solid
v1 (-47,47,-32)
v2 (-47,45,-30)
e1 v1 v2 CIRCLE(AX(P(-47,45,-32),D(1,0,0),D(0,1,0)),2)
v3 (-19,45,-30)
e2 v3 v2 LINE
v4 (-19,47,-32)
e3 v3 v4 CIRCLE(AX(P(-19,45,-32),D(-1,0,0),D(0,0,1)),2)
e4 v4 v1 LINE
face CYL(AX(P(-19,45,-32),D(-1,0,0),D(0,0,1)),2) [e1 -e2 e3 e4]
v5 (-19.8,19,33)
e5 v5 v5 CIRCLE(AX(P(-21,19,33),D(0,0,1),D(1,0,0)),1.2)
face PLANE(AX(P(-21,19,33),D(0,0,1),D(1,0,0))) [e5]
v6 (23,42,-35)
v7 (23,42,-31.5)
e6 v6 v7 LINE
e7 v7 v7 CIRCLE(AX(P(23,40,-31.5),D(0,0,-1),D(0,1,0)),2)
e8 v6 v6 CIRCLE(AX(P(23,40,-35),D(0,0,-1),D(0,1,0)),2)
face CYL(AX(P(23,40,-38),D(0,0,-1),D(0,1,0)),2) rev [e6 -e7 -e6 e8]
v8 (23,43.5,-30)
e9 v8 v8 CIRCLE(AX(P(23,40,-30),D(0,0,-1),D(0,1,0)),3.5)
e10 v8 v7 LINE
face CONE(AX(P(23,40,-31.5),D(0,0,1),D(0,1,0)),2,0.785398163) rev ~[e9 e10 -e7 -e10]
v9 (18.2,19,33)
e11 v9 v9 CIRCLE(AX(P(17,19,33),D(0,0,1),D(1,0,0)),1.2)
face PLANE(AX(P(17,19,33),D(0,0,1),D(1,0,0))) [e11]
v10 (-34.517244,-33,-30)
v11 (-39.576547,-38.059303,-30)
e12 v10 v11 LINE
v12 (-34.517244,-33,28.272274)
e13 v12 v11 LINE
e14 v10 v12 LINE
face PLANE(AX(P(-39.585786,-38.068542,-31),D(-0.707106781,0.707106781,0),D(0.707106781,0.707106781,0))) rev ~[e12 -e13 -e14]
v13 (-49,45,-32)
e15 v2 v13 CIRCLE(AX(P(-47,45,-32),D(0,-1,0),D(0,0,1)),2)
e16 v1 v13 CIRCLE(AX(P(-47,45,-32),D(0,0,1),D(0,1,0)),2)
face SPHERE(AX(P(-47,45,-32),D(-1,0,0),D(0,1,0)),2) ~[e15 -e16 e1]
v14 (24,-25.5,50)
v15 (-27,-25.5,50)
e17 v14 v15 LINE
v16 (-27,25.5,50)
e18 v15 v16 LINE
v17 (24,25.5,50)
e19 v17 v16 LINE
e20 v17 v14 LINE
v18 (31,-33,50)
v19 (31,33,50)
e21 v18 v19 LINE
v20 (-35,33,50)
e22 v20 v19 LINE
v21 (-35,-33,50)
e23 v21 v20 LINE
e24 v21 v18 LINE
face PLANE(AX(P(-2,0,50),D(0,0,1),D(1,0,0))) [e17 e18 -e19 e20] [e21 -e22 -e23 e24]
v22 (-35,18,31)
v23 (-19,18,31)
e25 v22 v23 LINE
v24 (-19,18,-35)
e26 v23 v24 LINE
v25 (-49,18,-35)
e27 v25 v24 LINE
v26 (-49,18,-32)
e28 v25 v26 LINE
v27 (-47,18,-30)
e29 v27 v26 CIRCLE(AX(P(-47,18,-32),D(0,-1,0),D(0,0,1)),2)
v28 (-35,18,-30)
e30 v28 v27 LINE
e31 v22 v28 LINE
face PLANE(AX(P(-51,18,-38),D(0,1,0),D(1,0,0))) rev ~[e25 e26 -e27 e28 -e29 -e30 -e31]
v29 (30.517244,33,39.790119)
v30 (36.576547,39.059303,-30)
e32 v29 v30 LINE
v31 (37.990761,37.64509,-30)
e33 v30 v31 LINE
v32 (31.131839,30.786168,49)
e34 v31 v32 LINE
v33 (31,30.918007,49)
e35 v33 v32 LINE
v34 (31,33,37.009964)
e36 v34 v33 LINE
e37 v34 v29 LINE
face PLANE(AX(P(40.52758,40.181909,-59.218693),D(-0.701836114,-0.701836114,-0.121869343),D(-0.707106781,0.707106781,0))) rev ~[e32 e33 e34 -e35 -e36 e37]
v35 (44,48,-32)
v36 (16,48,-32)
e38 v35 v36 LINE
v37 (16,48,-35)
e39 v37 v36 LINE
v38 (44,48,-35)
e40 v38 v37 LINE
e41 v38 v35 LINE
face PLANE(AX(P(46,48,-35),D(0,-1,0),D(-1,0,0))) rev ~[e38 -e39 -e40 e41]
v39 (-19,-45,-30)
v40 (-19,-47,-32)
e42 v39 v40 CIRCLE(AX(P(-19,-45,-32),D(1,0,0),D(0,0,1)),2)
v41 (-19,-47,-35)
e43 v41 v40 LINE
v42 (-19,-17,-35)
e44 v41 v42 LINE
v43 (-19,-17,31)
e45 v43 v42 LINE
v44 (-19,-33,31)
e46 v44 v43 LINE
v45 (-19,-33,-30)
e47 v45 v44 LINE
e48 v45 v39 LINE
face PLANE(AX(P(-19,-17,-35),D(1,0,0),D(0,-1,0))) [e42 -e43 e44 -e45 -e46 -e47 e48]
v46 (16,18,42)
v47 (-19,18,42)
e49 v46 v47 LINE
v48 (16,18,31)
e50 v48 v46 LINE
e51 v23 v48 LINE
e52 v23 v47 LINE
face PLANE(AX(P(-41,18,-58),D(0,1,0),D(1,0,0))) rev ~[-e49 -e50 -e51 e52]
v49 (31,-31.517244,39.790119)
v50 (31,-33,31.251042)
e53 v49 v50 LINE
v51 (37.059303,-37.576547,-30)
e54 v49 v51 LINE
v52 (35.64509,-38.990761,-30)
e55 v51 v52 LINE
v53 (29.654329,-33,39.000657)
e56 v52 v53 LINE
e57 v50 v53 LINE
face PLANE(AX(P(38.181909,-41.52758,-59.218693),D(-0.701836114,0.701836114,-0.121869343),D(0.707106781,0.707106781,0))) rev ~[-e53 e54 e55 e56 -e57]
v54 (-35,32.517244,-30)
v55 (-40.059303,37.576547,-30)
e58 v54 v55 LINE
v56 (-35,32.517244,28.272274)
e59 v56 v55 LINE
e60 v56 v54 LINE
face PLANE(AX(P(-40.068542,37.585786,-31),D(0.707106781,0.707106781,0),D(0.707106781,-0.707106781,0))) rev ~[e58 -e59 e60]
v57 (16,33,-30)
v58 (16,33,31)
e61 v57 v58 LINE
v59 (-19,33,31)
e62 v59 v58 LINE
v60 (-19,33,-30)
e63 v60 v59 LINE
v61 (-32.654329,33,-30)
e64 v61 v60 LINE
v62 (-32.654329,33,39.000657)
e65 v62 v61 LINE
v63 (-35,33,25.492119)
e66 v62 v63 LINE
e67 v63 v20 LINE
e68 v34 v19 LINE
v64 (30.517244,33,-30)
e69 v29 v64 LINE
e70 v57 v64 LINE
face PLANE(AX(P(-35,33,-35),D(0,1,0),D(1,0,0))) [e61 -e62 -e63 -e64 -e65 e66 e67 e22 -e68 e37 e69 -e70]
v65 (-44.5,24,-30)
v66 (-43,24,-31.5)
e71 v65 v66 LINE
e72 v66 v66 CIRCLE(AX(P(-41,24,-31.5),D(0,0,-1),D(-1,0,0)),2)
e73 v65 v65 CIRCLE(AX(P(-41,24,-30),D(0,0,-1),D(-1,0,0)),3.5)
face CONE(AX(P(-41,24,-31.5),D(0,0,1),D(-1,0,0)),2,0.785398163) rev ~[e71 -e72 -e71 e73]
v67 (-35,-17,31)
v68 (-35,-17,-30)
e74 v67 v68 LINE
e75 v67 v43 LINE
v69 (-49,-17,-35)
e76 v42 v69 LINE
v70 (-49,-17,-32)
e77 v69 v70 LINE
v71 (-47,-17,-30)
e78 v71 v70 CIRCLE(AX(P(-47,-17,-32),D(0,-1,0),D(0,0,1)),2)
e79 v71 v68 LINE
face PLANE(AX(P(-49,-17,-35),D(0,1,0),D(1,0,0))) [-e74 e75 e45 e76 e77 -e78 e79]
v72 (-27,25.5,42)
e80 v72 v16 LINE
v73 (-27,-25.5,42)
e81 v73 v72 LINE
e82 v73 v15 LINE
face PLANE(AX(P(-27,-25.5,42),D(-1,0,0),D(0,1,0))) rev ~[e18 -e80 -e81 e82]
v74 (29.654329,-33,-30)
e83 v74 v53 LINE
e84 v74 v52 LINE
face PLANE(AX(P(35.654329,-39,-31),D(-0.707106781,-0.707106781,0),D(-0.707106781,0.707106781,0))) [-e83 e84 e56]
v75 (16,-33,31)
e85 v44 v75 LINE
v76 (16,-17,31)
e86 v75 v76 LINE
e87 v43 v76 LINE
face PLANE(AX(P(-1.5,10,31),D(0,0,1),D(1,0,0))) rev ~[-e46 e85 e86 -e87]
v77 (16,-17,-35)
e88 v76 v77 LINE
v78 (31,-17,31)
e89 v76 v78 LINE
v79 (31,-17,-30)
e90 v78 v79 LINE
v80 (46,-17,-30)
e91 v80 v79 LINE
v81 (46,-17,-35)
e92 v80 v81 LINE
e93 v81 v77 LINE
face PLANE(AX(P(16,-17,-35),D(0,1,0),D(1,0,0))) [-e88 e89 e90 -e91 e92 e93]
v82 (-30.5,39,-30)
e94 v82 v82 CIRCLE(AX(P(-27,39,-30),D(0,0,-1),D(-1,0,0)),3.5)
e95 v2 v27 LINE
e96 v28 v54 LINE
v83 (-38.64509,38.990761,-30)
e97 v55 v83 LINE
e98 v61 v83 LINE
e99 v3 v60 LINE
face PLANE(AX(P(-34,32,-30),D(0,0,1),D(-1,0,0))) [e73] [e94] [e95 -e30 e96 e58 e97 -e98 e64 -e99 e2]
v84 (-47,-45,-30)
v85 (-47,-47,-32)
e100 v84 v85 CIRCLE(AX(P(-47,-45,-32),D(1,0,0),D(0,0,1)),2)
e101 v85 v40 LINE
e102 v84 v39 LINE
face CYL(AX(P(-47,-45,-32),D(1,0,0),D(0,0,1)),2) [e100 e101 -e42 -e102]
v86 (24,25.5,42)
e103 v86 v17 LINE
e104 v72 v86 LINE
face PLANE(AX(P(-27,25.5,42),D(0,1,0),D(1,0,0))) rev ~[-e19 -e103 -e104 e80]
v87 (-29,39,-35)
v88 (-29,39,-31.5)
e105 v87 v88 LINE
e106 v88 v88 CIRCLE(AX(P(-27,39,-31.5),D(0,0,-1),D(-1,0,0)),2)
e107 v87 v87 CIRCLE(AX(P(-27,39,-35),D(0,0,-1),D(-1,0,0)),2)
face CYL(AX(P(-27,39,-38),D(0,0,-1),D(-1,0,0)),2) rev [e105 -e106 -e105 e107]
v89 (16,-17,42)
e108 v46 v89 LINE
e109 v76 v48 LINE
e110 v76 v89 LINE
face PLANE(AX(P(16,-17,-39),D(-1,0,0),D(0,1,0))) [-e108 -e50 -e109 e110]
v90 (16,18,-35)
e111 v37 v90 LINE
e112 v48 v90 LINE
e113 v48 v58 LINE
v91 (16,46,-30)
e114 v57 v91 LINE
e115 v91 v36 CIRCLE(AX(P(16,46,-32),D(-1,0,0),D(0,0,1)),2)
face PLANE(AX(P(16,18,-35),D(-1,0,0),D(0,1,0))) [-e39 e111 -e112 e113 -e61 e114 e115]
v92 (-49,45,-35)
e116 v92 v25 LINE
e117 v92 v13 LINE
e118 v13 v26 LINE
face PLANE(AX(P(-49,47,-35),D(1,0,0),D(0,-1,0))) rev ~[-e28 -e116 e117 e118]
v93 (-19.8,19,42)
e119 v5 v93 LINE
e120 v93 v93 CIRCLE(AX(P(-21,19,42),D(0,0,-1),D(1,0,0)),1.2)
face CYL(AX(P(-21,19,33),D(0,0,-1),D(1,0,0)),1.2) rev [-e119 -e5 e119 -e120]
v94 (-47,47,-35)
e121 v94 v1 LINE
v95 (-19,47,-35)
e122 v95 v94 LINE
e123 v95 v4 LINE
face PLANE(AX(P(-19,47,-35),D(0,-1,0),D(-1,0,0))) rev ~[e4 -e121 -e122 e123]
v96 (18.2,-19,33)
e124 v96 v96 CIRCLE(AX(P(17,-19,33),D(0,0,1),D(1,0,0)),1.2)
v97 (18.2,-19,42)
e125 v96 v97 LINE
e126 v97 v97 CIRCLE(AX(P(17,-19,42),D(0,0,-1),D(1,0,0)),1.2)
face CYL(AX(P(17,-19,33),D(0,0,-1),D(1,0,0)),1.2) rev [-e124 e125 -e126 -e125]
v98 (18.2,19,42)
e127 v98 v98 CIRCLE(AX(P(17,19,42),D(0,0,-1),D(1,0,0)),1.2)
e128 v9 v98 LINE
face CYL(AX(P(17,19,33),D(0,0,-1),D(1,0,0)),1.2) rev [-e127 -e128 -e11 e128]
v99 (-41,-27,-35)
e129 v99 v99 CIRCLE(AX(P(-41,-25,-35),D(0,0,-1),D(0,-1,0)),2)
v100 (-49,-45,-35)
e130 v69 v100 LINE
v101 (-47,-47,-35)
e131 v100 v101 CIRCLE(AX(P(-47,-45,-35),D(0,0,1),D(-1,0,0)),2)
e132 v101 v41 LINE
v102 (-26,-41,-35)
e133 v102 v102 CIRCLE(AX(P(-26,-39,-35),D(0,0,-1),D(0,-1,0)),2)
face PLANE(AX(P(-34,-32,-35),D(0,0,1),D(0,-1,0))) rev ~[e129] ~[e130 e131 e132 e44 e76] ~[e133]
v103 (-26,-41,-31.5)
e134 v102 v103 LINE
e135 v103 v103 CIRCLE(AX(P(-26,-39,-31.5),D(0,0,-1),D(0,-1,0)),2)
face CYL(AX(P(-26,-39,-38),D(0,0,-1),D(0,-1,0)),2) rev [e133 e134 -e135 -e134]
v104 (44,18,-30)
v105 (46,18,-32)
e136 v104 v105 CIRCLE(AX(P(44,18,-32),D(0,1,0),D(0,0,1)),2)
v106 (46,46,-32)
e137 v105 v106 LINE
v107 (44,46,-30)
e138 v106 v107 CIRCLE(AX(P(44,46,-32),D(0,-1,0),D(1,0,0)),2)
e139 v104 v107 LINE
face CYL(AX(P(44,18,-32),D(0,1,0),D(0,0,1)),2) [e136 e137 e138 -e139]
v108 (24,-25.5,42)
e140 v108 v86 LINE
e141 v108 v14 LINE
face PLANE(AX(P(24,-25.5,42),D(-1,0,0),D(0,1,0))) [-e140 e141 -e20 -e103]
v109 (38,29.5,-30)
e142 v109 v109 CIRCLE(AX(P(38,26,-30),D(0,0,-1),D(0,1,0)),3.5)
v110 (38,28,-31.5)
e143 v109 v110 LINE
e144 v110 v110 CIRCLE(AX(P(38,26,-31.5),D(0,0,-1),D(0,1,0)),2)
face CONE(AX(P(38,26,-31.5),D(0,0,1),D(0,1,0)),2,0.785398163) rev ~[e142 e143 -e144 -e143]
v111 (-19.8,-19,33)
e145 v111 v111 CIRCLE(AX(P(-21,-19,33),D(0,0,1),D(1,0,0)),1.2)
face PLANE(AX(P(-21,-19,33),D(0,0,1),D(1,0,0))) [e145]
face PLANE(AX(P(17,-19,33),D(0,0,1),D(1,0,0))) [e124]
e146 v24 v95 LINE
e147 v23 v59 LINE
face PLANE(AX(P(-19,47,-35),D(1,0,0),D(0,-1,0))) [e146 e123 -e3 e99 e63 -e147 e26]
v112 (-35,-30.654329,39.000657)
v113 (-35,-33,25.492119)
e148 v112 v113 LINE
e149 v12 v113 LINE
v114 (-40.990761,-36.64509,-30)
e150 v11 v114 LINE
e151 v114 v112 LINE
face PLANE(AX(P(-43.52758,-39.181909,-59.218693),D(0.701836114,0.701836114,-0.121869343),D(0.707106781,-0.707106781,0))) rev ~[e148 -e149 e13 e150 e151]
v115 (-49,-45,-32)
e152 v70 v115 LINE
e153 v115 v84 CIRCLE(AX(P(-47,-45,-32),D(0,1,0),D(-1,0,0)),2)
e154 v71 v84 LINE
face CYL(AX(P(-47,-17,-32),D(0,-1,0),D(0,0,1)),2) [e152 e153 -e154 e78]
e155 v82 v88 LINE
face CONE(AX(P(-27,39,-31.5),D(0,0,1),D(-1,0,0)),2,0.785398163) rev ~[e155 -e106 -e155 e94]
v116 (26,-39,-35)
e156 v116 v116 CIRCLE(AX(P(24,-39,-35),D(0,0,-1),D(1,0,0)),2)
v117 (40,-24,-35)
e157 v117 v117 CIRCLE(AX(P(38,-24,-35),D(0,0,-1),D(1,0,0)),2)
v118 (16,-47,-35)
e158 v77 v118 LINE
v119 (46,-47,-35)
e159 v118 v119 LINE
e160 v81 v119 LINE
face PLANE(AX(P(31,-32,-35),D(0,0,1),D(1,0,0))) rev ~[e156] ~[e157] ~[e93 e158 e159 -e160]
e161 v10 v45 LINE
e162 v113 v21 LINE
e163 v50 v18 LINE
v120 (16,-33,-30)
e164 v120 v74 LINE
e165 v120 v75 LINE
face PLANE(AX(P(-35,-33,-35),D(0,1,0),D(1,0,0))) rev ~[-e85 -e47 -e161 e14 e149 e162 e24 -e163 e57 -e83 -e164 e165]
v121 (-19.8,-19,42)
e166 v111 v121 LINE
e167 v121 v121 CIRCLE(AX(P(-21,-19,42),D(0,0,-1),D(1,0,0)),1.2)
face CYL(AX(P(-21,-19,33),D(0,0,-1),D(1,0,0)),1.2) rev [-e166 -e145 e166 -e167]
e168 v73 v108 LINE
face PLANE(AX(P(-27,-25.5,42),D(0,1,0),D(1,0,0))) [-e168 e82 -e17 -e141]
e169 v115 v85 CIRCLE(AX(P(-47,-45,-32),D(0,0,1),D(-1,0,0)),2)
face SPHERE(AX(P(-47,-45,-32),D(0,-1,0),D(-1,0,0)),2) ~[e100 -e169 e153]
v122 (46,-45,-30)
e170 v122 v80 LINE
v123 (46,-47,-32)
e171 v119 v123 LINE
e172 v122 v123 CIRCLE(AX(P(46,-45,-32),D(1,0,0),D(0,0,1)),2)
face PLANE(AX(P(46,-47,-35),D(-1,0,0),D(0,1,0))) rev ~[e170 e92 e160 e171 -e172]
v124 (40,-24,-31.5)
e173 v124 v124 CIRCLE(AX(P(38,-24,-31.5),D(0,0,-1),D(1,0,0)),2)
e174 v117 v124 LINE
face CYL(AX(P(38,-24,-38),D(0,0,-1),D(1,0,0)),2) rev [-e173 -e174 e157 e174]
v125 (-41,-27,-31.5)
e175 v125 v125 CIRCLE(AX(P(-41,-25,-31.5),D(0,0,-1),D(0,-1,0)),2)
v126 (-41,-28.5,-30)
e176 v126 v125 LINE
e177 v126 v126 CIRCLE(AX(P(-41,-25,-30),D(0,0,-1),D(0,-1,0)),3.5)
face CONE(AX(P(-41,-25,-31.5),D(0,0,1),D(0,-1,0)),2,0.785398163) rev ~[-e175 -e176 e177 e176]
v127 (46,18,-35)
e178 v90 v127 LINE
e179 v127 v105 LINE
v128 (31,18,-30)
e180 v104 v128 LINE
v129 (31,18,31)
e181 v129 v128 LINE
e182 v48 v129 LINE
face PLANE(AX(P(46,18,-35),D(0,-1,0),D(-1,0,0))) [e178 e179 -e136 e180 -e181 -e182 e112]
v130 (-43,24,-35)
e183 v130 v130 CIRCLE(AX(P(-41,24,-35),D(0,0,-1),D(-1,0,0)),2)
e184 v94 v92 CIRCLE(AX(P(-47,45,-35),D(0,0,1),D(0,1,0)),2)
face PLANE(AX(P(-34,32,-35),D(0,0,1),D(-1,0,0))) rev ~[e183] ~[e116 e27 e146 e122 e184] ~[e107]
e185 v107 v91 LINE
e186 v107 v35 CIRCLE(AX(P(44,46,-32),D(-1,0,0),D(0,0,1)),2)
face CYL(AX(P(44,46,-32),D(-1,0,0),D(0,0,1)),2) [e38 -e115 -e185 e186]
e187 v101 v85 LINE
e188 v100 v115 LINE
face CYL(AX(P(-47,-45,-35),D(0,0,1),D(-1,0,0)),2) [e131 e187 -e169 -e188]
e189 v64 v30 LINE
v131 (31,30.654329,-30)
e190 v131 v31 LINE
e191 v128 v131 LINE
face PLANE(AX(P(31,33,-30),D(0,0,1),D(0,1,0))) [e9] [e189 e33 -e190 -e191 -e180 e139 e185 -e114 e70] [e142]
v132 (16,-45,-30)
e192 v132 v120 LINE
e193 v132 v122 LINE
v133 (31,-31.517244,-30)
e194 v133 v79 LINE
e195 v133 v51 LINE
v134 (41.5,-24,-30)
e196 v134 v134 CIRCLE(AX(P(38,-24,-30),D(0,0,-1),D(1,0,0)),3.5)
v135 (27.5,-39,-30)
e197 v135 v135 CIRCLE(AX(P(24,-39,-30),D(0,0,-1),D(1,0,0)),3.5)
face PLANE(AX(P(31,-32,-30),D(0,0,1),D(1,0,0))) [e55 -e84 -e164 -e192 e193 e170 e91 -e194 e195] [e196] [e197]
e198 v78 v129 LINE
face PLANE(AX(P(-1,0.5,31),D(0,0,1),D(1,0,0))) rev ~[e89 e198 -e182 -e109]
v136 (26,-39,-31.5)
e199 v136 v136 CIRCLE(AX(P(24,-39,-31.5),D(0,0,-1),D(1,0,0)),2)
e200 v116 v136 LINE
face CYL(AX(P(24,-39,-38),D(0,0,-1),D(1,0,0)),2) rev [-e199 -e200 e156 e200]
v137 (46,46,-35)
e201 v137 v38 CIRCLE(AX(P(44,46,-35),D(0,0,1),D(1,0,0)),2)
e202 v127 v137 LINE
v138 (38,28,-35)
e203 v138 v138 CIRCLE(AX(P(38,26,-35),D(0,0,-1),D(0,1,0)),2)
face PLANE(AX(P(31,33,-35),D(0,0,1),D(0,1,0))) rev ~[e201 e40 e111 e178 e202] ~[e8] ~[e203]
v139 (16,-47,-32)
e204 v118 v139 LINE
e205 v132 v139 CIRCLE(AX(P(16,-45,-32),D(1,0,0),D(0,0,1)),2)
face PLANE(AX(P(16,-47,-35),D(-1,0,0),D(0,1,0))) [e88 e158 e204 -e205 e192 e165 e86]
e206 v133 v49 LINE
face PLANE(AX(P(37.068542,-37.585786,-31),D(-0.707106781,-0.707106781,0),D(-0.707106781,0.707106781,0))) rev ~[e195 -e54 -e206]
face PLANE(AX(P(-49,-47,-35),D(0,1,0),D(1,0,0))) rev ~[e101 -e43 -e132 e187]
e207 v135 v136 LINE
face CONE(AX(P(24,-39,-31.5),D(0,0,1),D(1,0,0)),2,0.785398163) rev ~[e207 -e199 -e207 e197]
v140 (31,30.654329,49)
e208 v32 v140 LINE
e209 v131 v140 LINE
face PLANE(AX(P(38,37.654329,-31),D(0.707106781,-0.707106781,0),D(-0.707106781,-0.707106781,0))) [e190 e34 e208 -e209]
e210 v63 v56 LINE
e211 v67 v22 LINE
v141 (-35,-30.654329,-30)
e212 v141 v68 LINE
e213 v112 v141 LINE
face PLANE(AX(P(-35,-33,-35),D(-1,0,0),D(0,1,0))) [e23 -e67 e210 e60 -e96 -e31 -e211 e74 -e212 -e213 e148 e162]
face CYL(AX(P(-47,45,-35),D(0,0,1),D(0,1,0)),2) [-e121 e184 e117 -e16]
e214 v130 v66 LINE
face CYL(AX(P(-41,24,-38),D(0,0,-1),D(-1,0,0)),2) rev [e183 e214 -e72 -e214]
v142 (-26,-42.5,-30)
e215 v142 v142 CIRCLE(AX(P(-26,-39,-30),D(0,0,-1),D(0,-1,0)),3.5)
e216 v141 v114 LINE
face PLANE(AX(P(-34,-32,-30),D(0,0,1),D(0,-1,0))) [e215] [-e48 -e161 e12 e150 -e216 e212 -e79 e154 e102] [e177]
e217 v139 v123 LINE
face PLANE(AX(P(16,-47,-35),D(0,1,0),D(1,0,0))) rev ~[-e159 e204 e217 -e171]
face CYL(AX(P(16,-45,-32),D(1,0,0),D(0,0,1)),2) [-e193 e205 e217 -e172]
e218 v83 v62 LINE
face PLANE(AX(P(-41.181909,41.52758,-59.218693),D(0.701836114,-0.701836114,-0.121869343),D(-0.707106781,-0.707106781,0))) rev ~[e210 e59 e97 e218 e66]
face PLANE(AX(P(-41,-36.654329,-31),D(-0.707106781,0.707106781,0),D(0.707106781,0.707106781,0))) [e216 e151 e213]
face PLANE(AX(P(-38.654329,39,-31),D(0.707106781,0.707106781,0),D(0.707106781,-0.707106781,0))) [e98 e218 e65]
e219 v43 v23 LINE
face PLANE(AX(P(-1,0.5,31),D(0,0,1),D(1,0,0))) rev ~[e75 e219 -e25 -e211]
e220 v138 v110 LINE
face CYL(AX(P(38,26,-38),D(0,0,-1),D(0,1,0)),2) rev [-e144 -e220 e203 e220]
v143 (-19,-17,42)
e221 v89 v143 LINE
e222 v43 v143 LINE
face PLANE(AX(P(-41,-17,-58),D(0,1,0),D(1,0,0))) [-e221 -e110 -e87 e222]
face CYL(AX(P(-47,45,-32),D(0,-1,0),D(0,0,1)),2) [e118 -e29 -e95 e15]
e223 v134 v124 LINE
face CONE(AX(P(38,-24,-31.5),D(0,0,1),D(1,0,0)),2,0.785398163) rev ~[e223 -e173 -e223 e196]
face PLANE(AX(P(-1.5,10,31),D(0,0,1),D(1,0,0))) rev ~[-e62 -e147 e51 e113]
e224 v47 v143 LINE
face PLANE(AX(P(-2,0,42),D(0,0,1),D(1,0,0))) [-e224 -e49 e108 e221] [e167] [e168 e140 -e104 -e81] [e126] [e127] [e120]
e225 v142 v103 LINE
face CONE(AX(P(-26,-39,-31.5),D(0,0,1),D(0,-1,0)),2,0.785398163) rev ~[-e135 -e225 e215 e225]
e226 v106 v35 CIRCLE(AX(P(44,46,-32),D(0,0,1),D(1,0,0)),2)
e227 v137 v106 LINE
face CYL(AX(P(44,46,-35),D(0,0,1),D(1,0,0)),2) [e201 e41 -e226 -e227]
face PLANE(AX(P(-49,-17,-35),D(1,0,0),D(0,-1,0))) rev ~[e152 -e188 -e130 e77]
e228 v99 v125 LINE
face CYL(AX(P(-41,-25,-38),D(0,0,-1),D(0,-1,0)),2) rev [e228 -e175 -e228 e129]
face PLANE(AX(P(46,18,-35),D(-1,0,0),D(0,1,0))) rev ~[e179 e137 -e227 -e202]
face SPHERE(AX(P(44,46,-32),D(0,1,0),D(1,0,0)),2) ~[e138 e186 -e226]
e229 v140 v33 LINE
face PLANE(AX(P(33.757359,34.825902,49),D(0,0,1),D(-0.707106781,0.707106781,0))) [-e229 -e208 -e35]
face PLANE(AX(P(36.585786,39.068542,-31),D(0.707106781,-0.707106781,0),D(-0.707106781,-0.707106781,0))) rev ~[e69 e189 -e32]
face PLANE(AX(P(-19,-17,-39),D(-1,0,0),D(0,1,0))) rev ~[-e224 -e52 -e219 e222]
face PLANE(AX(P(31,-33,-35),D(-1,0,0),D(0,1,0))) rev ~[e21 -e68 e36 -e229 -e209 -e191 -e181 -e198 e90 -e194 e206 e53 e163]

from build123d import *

# Parameters (mm, degrees)
CYLINDER019_R             = 1.2
CYLINDER019_DEPTH         = 10
CYLINDER020_R             = 1.2
CYLINDER020_DEPTH         = 10
CYLINDER021_R             = 1.2
CYLINDER021_DEPTH         = 10
CYLINDER018_R             = 1.2
CYLINDER018_DEPTH         = 10
CYLINDER201_R             = 2
CYLINDER201_DEPTH         = 10
CYLINDER200_R             = 2
CYLINDER200_DEPTH         = 10
BOX013_W                  = 5
BOX013_H                  = 10
BOX013_DEPTH              = 150
BOX013_PLACEMENT_ANGLE    = 7
BOX012_W                  = 2
BOX012_H                  = 10
BOX012_DEPTH              = 80
CUT015_PLACEMENT_ANGLE    = 45
BOX246_W                  = 30
BOX246_H                  = 30
BOX246_DEPTH              = 5
CHAMFER011_SIZE           = 1.5
CHAMFER012_SIZE           = 1.5
FILLET177_R               = 2
FILLET008_R               = 2
FILLET008_PLACEMENT_ANGLE = 90
CYLINDER013_R             = 2
CYLINDER013_DEPTH         = 10
CYLINDER012_R             = 2
CYLINDER012_DEPTH         = 10
BOX016_W                  = 5
BOX016_H                  = 10
BOX016_DEPTH              = 150
BOX016_PLACEMENT_ANGLE    = 7
BOX015_W                  = 2
BOX015_H                  = 10
BOX015_DEPTH              = 80
CUT018_PLACEMENT_ANGLE    = 45
BOX014_W                  = 30
BOX014_H                  = 30
BOX014_DEPTH              = 5
CHAMFER013_SIZE           = 1.5
CHAMFER014_SIZE           = 1.5
FILLET178_R               = 2
CYLINDER017_R             = 2
CYLINDER017_DEPTH         = 10
CYLINDER016_R             = 2
CYLINDER016_DEPTH         = 10
BOX022_W                  = 5
BOX022_H                  = 10
BOX022_DEPTH              = 150
BOX022_PLACEMENT_ANGLE    = 7
BOX021_W                  = 2
BOX021_H                  = 10
BOX021_DEPTH              = 80
CUT024_PLACEMENT_ANGLE    = 45
BOX020_W                  = 30
BOX020_H                  = 30
BOX020_DEPTH              = 5
CHAMFER017_SIZE           = 1.5
CHAMFER018_SIZE           = 1.5
FILLET181_R               = 2
FILLET182_R               = 2
FILLET182_PLACEMENT_ANGLE = 90
BOX023_W                  = 60
BOX023_H                  = 60
BOX023_DEPTH              = 10
CYLINDER015_R             = 2
CYLINDER015_DEPTH         = 10
CYLINDER014_R             = 2
CYLINDER014_DEPTH         = 10
BOX019_W                  = 5
BOX019_H                  = 10
BOX019_DEPTH              = 150
BOX019_PLACEMENT_ANGLE    = 7
BOX018_W                  = 2
BOX018_H                  = 10
BOX018_DEPTH              = 80
CUT021_PLACEMENT_ANGLE    = 45
BOX017_W                  = 30
BOX017_H                  = 30
BOX017_DEPTH              = 5
CHAMFER015_SIZE           = 1.5
CHAMFER016_SIZE           = 1.5
FILLET179_R               = 2
FILLET180_R               = 2
FILLET180_PLACEMENT_ANGLE = 180
CYLINDER199_R             = 2
CYLINDER199_DEPTH         = 10
CYLINDER198_R             = 2
CYLINDER198_DEPTH         = 10
BOX245_W                  = 5
BOX245_H                  = 10
BOX245_DEPTH              = 150
BOX245_PLACEMENT_ANGLE    = 7
BOX244_W                  = 2
BOX244_H                  = 10
BOX244_DEPTH              = 80
CUT275_PLACEMENT_ANGLE    = 45
BOX243_W                  = 30
BOX243_H                  = 30
BOX243_DEPTH              = 5
CHAMFER009_SIZE           = 1.5
CHAMFER010_SIZE           = 1.5
FILLET175_R               = 2
FILLET176_R               = 2
BOX242_W                  = 51
BOX242_H                  = 51
BOX242_DEPTH              = 10
BOX241_W                  = 35
BOX241_H                  = 100
BOX241_DEPTH              = 89
BOX240_W                  = 80
BOX240_H                  = 35
BOX240_DEPTH              = 89
BOX239_W                  = 35
BOX239_H                  = 35
BOX239_DEPTH              = 89
BOX238_W                  = 50
BOX238_H                  = 50
BOX238_DEPTH              = 8
BOX237_W                  = 66
BOX237_H                  = 66
BOX237_DEPTH              = 85


with BuildPart() as cilindro019:
    # Cylinder019 → Cylinder019 (new body)
    with BuildSketch(Plane(origin=(19, -19, -9), x_dir=(1, 0, 0), z_dir=(0, 0, 1))):
        Circle(CYLINDER019_R)
    extrude(amount=CYLINDER019_DEPTH)


with BuildPart() as cilindro020:
    # Cylinder020 → Cylinder020 (new body)
    with BuildSketch(Plane(origin=(19, 19, -9), x_dir=(1, 0, 0), z_dir=(0, 0, 1))):
        Circle(CYLINDER020_R)
    extrude(amount=CYLINDER020_DEPTH)


with BuildPart() as cilindro021:
    # Cylinder021 → Cylinder021 (new body)
    with BuildSketch(Plane(origin=(-19, 19, -9), x_dir=(1, 0, 0), z_dir=(0, 0, 1))):
        Circle(CYLINDER021_R)
    extrude(amount=CYLINDER021_DEPTH)


with BuildPart() as cilindro018:
    # Cylinder018 → Cylinder018 (new body)
    with BuildSketch(Plane(origin=(-19, -19, -9), x_dir=(1, 0, 0), z_dir=(0, 0, 1))):
        Circle(CYLINDER018_R)
    extrude(amount=CYLINDER018_DEPTH)


with BuildPart() as cilindro201:
    # Cylinder201 → Cylinder201 (new body)
    with BuildSketch(Plane(origin=(26, -39, -80), x_dir=(1, 0, 0), z_dir=(0, 0, 1))):
        Circle(CYLINDER201_R)
    extrude(amount=CYLINDER201_DEPTH)


with BuildPart() as cilindro200:
    # Cylinder200 → Cylinder200 (new body)
    with BuildSketch(Plane(origin=(40, -24, -80), x_dir=(1, 0, 0), z_dir=(0, 0, 1))):
        Circle(CYLINDER200_R)
    extrude(amount=CYLINDER200_DEPTH)


with BuildPart() as cubo013:
    # Box013 → Box013 (new body)
    with BuildSketch(Plane.XY):
        with Locations((2.5, 5)):
            Rectangle(BOX013_W, BOX013_H)
    extrude(amount=BOX013_DEPTH)


with BuildPart() as cubo013_1:
    # Box013 placement: moved
    add(cubo013.part.moved(Location((39, -52.5, -100))).rotate(Axis((39, -52.5, -100), (-1, 0, 0)), BOX013_PLACEMENT_ANGLE))


with BuildPart() as cut015:
    # Box012 → Box012 (new body)
    with BuildSketch(Plane(origin=(39, -39, -73), x_dir=(1, 0, 0), z_dir=(0, 0, 1))):
        with Locations((1, 5)):
            Rectangle(BOX012_W, BOX012_H)
    extrude(amount=BOX012_DEPTH)

    # Cut015: cut Cubo013
    add(cubo013_1.part, mode=Mode.SUBTRACT)


with BuildPart() as cut015_1:
    # Cut015 placement: moved
    add(cut015.part.moved(Location((-17.5, -39, 0))).rotate(Axis((-17.5, -39, 0), (0, 0, 1)), CUT015_PLACEMENT_ANGLE))


with BuildPart() as fillet008:
    # Box246 → Box246 (new body)
    with BuildSketch(Plane(origin=(18, -47, -77), x_dir=(1, 0, 0), z_dir=(0, 0, 1))):
        with Locations((15, 15)):
            Rectangle(BOX246_W, BOX246_H)
    extrude(amount=BOX246_DEPTH)

    # Fusion148: union Cut015
    add(cut015_1.part)

    # Cut277: cut Cilindro200
    add(cilindro200.part, mode=Mode.SUBTRACT)

    # Cut278: cut Cilindro201
    add(cilindro201.part, mode=Mode.SUBTRACT)

    # Chamfer011
    chamfer011_edges = [fillet008.edges().sort_by_distance(p)[0] for p in [
        (24, -39, -72),
    ]]
    chamfer(chamfer011_edges, length=CHAMFER011_SIZE)

    # Chamfer012
    chamfer012_edges = [fillet008.edges().sort_by_distance(p)[0] for p in [
        (38, -24, -72),
    ]]
    chamfer(chamfer012_edges, length=CHAMFER012_SIZE)

    # Fillet177
    fillet177_edges = [fillet008.edges().sort_by_distance(p)[0] for p in [
        (33, -47, -72),
    ]]
    fillet(fillet177_edges, radius=FILLET177_R)

    # Fillet008
    fillet008_edges = [fillet008.edges().sort_by_distance(p)[0] for p in [
        (48, -31, -72),
    ]]
    fillet(fillet008_edges, radius=FILLET008_R)


with BuildPart() as fillet008_1:
    # Fillet008 placement: moved
    add(fillet008.part.moved(Location((1, 0, 0))).rotate(Axis((1, 0, 0), (0, 0, 1)), FILLET008_PLACEMENT_ANGLE))


with BuildPart() as cilindro013:
    # Cylinder013 → Cylinder013 (new body)
    with BuildSketch(Plane(origin=(26, -39, -80), x_dir=(1, 0, 0), z_dir=(0, 0, 1))):
        Circle(CYLINDER013_R)
    extrude(amount=CYLINDER013_DEPTH)


with BuildPart() as cilindro012:
    # Cylinder012 → Cylinder012 (new body)
    with BuildSketch(Plane(origin=(40, -24, -80), x_dir=(1, 0, 0), z_dir=(0, 0, 1))):
        Circle(CYLINDER012_R)
    extrude(amount=CYLINDER012_DEPTH)


with BuildPart() as cubo016:
    # Box016 → Box016 (new body)
    with BuildSketch(Plane.XY):
        with Locations((2.5, 5)):
            Rectangle(BOX016_W, BOX016_H)
    extrude(amount=BOX016_DEPTH)


with BuildPart() as cubo016_1:
    # Box016 placement: moved
    add(cubo016.part.moved(Location((39, -52.5, -100))).rotate(Axis((39, -52.5, -100), (-1, 0, 0)), BOX016_PLACEMENT_ANGLE))


with BuildPart() as cut018:
    # Box015 → Box015 (new body)
    with BuildSketch(Plane(origin=(39, -39, -73), x_dir=(1, 0, 0), z_dir=(0, 0, 1))):
        with Locations((1, 5)):
            Rectangle(BOX015_W, BOX015_H)
    extrude(amount=BOX015_DEPTH)

    # Cut018: cut Cubo016
    add(cubo016_1.part, mode=Mode.SUBTRACT)


with BuildPart() as cut018_1:
    # Cut018 placement: moved
    add(cut018.part.moved(Location((-17.5, -39, 0))).rotate(Axis((-17.5, -39, 0), (0, 0, 1)), CUT018_PLACEMENT_ANGLE))


with BuildPart() as fillet178:
    # Box014 → Box014 (new body)
    with BuildSketch(Plane(origin=(18, -47, -77), x_dir=(1, 0, 0), z_dir=(0, 0, 1))):
        with Locations((15, 15)):
            Rectangle(BOX014_W, BOX014_H)
    extrude(amount=BOX014_DEPTH)

    # Fusion149: union Cut018
    add(cut018_1.part)

    # Cut019: cut Cilindro012
    add(cilindro012.part, mode=Mode.SUBTRACT)

    # Cut020: cut Cilindro013
    add(cilindro013.part, mode=Mode.SUBTRACT)

    # Chamfer013
    chamfer013_edges = [fillet178.edges().sort_by_distance(p)[0] for p in [
        (24, -39, -72),
    ]]
    chamfer(chamfer013_edges, length=CHAMFER013_SIZE)

    # Chamfer014
    chamfer014_edges = [fillet178.edges().sort_by_distance(p)[0] for p in [
        (38, -24, -72),
    ]]
    chamfer(chamfer014_edges, length=CHAMFER014_SIZE)

    # Fillet178
    fillet178_edges = [fillet178.edges().sort_by_distance(p)[0] for p in [
        (33, -47, -72),
    ]]
    fillet(fillet178_edges, radius=FILLET178_R)


with BuildPart() as cilindro017:
    # Cylinder017 → Cylinder017 (new body)
    with BuildSketch(Plane(origin=(26, -39, -80), x_dir=(1, 0, 0), z_dir=(0, 0, 1))):
        Circle(CYLINDER017_R)
    extrude(amount=CYLINDER017_DEPTH)


with BuildPart() as cilindro016:
    # Cylinder016 → Cylinder016 (new body)
    with BuildSketch(Plane(origin=(40, -24, -80), x_dir=(1, 0, 0), z_dir=(0, 0, 1))):
        Circle(CYLINDER016_R)
    extrude(amount=CYLINDER016_DEPTH)


with BuildPart() as cubo022:
    # Box022 → Box022 (new body)
    with BuildSketch(Plane.XY):
        with Locations((2.5, 5)):
            Rectangle(BOX022_W, BOX022_H)
    extrude(amount=BOX022_DEPTH)


with BuildPart() as cubo022_1:
    # Box022 placement: moved
    add(cubo022.part.moved(Location((39, -52.5, -100))).rotate(Axis((39, -52.5, -100), (-1, 0, 0)), BOX022_PLACEMENT_ANGLE))


with BuildPart() as cut024:
    # Box021 → Box021 (new body)
    with BuildSketch(Plane(origin=(39, -39, -73), x_dir=(1, 0, 0), z_dir=(0, 0, 1))):
        with Locations((1, 5)):
            Rectangle(BOX021_W, BOX021_H)
    extrude(amount=BOX021_DEPTH)

    # Cut024: cut Cubo022
    add(cubo022_1.part, mode=Mode.SUBTRACT)


with BuildPart() as cut024_1:
    # Cut024 placement: moved
    add(cut024.part.moved(Location((-17.5, -39, 0))).rotate(Axis((-17.5, -39, 0), (0, 0, 1)), CUT024_PLACEMENT_ANGLE))


with BuildPart() as fillet182:
    # Box020 → Box020 (new body)
    with BuildSketch(Plane(origin=(18, -47, -77), x_dir=(1, 0, 0), z_dir=(0, 0, 1))):
        with Locations((15, 15)):
            Rectangle(BOX020_W, BOX020_H)
    extrude(amount=BOX020_DEPTH)

    # Fusion151: union Cut024
    add(cut024_1.part)

    # Cut025: cut Cilindro016
    add(cilindro016.part, mode=Mode.SUBTRACT)

    # Cut026: cut Cilindro017
    add(cilindro017.part, mode=Mode.SUBTRACT)

    # Chamfer017
    chamfer017_edges = [fillet182.edges().sort_by_distance(p)[0] for p in [
        (24, -39, -72),
    ]]
    chamfer(chamfer017_edges, length=CHAMFER017_SIZE)

    # Chamfer018
    chamfer018_edges = [fillet182.edges().sort_by_distance(p)[0] for p in [
        (38, -24, -72),
    ]]
    chamfer(chamfer018_edges, length=CHAMFER018_SIZE)

    # Fillet181
    fillet181_edges = [fillet182.edges().sort_by_distance(p)[0] for p in [
        (33, -47, -72),
    ]]
    fillet(fillet181_edges, radius=FILLET181_R)

    # Fillet182
    fillet182_edges = [fillet182.edges().sort_by_distance(p)[0] for p in [
        (48, -31, -72),
    ]]
    fillet(fillet182_edges, radius=FILLET182_R)


with BuildPart() as fillet182_1:
    # Fillet182 placement: moved
    add(fillet182.part.moved(Location((0, 1, 0))).rotate(Axis((0, 1, 0), (0, 0, -1)), FILLET182_PLACEMENT_ANGLE))


with BuildPart() as cubo023:
    # Box023 → Box023 (new body)
    with BuildSketch(Plane(origin=(-49, -42, -80), x_dir=(1, 0, 0), z_dir=(0, 0, 1))):
        with Locations((30, 30)):
            Rectangle(BOX023_W, BOX023_H)
    extrude(amount=BOX023_DEPTH)


with BuildPart() as cilindro015:
    # Cylinder015 → Cylinder015 (new body)
    with BuildSketch(Plane(origin=(26, -39, -80), x_dir=(1, 0, 0), z_dir=(0, 0, 1))):
        Circle(CYLINDER015_R)
    extrude(amount=CYLINDER015_DEPTH)


with BuildPart() as cilindro014:
    # Cylinder014 → Cylinder014 (new body)
    with BuildSketch(Plane(origin=(40, -24, -80), x_dir=(1, 0, 0), z_dir=(0, 0, 1))):
        Circle(CYLINDER014_R)
    extrude(amount=CYLINDER014_DEPTH)


with BuildPart() as cubo019:
    # Box019 → Box019 (new body)
    with BuildSketch(Plane.XY):
        with Locations((2.5, 5)):
            Rectangle(BOX019_W, BOX019_H)
    extrude(amount=BOX019_DEPTH)


with BuildPart() as cubo019_1:
    # Box019 placement: moved
    add(cubo019.part.moved(Location((39, -52.5, -100))).rotate(Axis((39, -52.5, -100), (-1, 0, 0)), BOX019_PLACEMENT_ANGLE))


with BuildPart() as cut021:
    # Box018 → Box018 (new body)
    with BuildSketch(Plane(origin=(39, -39, -73), x_dir=(1, 0, 0), z_dir=(0, 0, 1))):
        with Locations((1, 5)):
            Rectangle(BOX018_W, BOX018_H)
    extrude(amount=BOX018_DEPTH)

    # Cut021: cut Cubo019
    add(cubo019_1.part, mode=Mode.SUBTRACT)


with BuildPart() as cut021_1:
    # Cut021 placement: moved
    add(cut021.part.moved(Location((-17.5, -39, 0))).rotate(Axis((-17.5, -39, 0), (0, 0, 1)), CUT021_PLACEMENT_ANGLE))


with BuildPart() as cut027:
    # Box017 → Box017 (new body)
    with BuildSketch(Plane(origin=(18, -47, -77), x_dir=(1, 0, 0), z_dir=(0, 0, 1))):
        with Locations((15, 15)):
            Rectangle(BOX017_W, BOX017_H)
    extrude(amount=BOX017_DEPTH)

    # Fusion150: union Cut021
    add(cut021_1.part)

    # Cut022: cut Cilindro014
    add(cilindro014.part, mode=Mode.SUBTRACT)

    # Cut023: cut Cilindro015
    add(cilindro015.part, mode=Mode.SUBTRACT)

    # Chamfer015
    chamfer015_edges = [cut027.edges().sort_by_distance(p)[0] for p in [
        (24, -39, -72),
    ]]
    chamfer(chamfer015_edges, length=CHAMFER015_SIZE)

    # Chamfer016
    chamfer016_edges = [cut027.edges().sort_by_distance(p)[0] for p in [
        (38, -24, -72),
    ]]
    chamfer(chamfer016_edges, length=CHAMFER016_SIZE)

    # Fillet179
    fillet179_edges = [cut027.edges().sort_by_distance(p)[0] for p in [
        (33, -47, -72),
    ]]
    fillet(fillet179_edges, radius=FILLET179_R)

    # Fillet180
    fillet180_edges = [cut027.edges().sort_by_distance(p)[0] for p in [
        (48, -31, -72),
    ]]
    fillet(fillet180_edges, radius=FILLET180_R)


with BuildPart() as cut027_1:
    # Fillet180 placement: moved
    add(cut027.part.moved(Location((1, 0, 0))).rotate(Axis((1, 0, 0), (0, 0, 1)), FILLET180_PLACEMENT_ANGLE))

    # Cut027: cut Cubo023
    add(cubo023.part, mode=Mode.SUBTRACT)


with BuildPart() as cilindro199:
    # Cylinder199 → Cylinder199 (new body)
    with BuildSketch(Plane(origin=(26, -39, -80), x_dir=(1, 0, 0), z_dir=(0, 0, 1))):
        Circle(CYLINDER199_R)
    extrude(amount=CYLINDER199_DEPTH)


with BuildPart() as cilindro198:
    # Cylinder198 → Cylinder198 (new body)
    with BuildSketch(Plane(origin=(40, -24, -80), x_dir=(1, 0, 0), z_dir=(0, 0, 1))):
        Circle(CYLINDER198_R)
    extrude(amount=CYLINDER198_DEPTH)


with BuildPart() as cubo231:
    # Box245 → Box245 (new body)
    with BuildSketch(Plane.XY):
        with Locations((2.5, 5)):
            Rectangle(BOX245_W, BOX245_H)
    extrude(amount=BOX245_DEPTH)


with BuildPart() as cubo231_1:
    # Box245 placement: moved
    add(cubo231.part.moved(Location((39, -52.5, -100))).rotate(Axis((39, -52.5, -100), (-1, 0, 0)), BOX245_PLACEMENT_ANGLE))


with BuildPart() as cut275:
    # Box244 → Box244 (new body)
    with BuildSketch(Plane(origin=(39, -39, -73), x_dir=(1, 0, 0), z_dir=(0, 0, 1))):
        with Locations((1, 5)):
            Rectangle(BOX244_W, BOX244_H)
    extrude(amount=BOX244_DEPTH)

    # Cut275: cut Cubo231
    add(cubo231_1.part, mode=Mode.SUBTRACT)


with BuildPart() as cut275_1:
    # Cut275 placement: moved
    add(cut275.part.moved(Location((-17.5, -39, 0))).rotate(Axis((-17.5, -39, 0), (0, 0, 1)), CUT275_PLACEMENT_ANGLE))


with BuildPart() as fillet176:
    # Box243 → Box243 (new body)
    with BuildSketch(Plane(origin=(18, -47, -77), x_dir=(1, 0, 0), z_dir=(0, 0, 1))):
        with Locations((15, 15)):
            Rectangle(BOX243_W, BOX243_H)
    extrude(amount=BOX243_DEPTH)

    # Fusion147: union Cut275
    add(cut275_1.part)

    # Cut276: cut Cilindro198
    add(cilindro198.part, mode=Mode.SUBTRACT)

    # Cut014: cut Cilindro199
    add(cilindro199.part, mode=Mode.SUBTRACT)

    # Chamfer009
    chamfer009_edges = [fillet176.edges().sort_by_distance(p)[0] for p in [
        (24, -39, -72),
    ]]
    chamfer(chamfer009_edges, length=CHAMFER009_SIZE)

    # Chamfer010
    chamfer010_edges = [fillet176.edges().sort_by_distance(p)[0] for p in [
        (38, -24, -72),
    ]]
    chamfer(chamfer010_edges, length=CHAMFER010_SIZE)

    # Fillet175
    fillet175_edges = [fillet176.edges().sort_by_distance(p)[0] for p in [
        (33, -47, -72),
    ]]
    fillet(fillet175_edges, radius=FILLET175_R)

    # Fillet176
    fillet176_edges = [fillet176.edges().sort_by_distance(p)[0] for p in [
        (48, -31, -72),
    ]]
    fillet(fillet176_edges, radius=FILLET176_R)


with BuildPart() as cubo228:
    # Box242 → Box242 (new body)
    with BuildSketch(Plane(origin=(-25, -25.5, 0), x_dir=(1, 0, 0), z_dir=(0, 0, 1))):
        with Locations((25.5, 25.5)):
            Rectangle(BOX242_W, BOX242_H)
    extrude(amount=BOX242_DEPTH)


with BuildPart() as cubo227:
    # Box241 → Box241 (new body)
    with BuildSketch(Plane(origin=(-17, -40, -100), x_dir=(1, 0, 0), z_dir=(0, 0, 1))):
        with Locations((17.5, 50)):
            Rectangle(BOX241_W, BOX241_H)
    extrude(amount=BOX241_DEPTH)


with BuildPart() as cubo226:
    # Box240 → Box240 (new body)
    with BuildSketch(Plane(origin=(-39, -17, -100), x_dir=(1, 0, 0), z_dir=(0, 0, 1))):
        with Locations((40, 17.5)):
            Rectangle(BOX240_W, BOX240_H)
    extrude(amount=BOX240_DEPTH)


with BuildPart() as cubo225:
    # Box239 → Box239 (new body)
    with BuildSketch(Plane(origin=(-17, -17, -81), x_dir=(1, 0, 0), z_dir=(0, 0, 1))):
        with Locations((17.5, 17.5)):
            Rectangle(BOX239_W, BOX239_H)
    extrude(amount=BOX239_DEPTH)


with BuildPart() as cubo224:
    # Box238 → Box238 (new body)
    with BuildSketch(Plane(origin=(-25, -25, 0), x_dir=(1, 0, 0), z_dir=(0, 0, 1))):
        with Locations((25, 25)):
            Rectangle(BOX238_W, BOX238_H)
    extrude(amount=BOX238_DEPTH)


with BuildPart() as torre_cohete:
    # Box237 → Box237 (new body)
    with BuildSketch(Plane(origin=(-33, -33, -77), x_dir=(1, 0, 0), z_dir=(0, 0, 1))):
        with Locations((33, 33)):
            Rectangle(BOX237_W, BOX237_H)
    extrude(amount=BOX237_DEPTH)

    # Cut007: cut Cubo224
    add(cubo224.part, mode=Mode.SUBTRACT)

    # Cut008: cut Cubo225
    add(cubo225.part, mode=Mode.SUBTRACT)

    # Cut009: cut Cubo226
    add(cubo226.part, mode=Mode.SUBTRACT)

    # Cut010: cut Cubo227
    add(cubo227.part, mode=Mode.SUBTRACT)

    # Cut011: cut Cubo228
    add(cubo228.part, mode=Mode.SUBTRACT)

    # Fusion152: union Fillet176
    add(fillet176.part)

    # Fusion153: union Cut027
    add(cut027_1.part)

    # Fusion154: union Fillet182
    add(fillet182_1.part)

    # Fusion155: union Fillet178
    add(fillet178.part)

    # Fusion011: union Fillet008
    add(fillet008_1.part)

    # Cut028: cut Cilindro018
    add(cilindro018.part, mode=Mode.SUBTRACT)

    # Cut029: cut Cilindro021
    add(cilindro021.part, mode=Mode.SUBTRACT)

    # Cut030: cut Cilindro020
    add(cilindro020.part, mode=Mode.SUBTRACT)

    # Cut031: cut Cilindro019
    add(cilindro019.part, mode=Mode.SUBTRACT)


with BuildPart() as torre_cohete_1:
    # Cut031 placement: moved
    add(torre_cohete.part.moved(Location((-2, 0, 42))))


solid = torre_cohete_1.part
